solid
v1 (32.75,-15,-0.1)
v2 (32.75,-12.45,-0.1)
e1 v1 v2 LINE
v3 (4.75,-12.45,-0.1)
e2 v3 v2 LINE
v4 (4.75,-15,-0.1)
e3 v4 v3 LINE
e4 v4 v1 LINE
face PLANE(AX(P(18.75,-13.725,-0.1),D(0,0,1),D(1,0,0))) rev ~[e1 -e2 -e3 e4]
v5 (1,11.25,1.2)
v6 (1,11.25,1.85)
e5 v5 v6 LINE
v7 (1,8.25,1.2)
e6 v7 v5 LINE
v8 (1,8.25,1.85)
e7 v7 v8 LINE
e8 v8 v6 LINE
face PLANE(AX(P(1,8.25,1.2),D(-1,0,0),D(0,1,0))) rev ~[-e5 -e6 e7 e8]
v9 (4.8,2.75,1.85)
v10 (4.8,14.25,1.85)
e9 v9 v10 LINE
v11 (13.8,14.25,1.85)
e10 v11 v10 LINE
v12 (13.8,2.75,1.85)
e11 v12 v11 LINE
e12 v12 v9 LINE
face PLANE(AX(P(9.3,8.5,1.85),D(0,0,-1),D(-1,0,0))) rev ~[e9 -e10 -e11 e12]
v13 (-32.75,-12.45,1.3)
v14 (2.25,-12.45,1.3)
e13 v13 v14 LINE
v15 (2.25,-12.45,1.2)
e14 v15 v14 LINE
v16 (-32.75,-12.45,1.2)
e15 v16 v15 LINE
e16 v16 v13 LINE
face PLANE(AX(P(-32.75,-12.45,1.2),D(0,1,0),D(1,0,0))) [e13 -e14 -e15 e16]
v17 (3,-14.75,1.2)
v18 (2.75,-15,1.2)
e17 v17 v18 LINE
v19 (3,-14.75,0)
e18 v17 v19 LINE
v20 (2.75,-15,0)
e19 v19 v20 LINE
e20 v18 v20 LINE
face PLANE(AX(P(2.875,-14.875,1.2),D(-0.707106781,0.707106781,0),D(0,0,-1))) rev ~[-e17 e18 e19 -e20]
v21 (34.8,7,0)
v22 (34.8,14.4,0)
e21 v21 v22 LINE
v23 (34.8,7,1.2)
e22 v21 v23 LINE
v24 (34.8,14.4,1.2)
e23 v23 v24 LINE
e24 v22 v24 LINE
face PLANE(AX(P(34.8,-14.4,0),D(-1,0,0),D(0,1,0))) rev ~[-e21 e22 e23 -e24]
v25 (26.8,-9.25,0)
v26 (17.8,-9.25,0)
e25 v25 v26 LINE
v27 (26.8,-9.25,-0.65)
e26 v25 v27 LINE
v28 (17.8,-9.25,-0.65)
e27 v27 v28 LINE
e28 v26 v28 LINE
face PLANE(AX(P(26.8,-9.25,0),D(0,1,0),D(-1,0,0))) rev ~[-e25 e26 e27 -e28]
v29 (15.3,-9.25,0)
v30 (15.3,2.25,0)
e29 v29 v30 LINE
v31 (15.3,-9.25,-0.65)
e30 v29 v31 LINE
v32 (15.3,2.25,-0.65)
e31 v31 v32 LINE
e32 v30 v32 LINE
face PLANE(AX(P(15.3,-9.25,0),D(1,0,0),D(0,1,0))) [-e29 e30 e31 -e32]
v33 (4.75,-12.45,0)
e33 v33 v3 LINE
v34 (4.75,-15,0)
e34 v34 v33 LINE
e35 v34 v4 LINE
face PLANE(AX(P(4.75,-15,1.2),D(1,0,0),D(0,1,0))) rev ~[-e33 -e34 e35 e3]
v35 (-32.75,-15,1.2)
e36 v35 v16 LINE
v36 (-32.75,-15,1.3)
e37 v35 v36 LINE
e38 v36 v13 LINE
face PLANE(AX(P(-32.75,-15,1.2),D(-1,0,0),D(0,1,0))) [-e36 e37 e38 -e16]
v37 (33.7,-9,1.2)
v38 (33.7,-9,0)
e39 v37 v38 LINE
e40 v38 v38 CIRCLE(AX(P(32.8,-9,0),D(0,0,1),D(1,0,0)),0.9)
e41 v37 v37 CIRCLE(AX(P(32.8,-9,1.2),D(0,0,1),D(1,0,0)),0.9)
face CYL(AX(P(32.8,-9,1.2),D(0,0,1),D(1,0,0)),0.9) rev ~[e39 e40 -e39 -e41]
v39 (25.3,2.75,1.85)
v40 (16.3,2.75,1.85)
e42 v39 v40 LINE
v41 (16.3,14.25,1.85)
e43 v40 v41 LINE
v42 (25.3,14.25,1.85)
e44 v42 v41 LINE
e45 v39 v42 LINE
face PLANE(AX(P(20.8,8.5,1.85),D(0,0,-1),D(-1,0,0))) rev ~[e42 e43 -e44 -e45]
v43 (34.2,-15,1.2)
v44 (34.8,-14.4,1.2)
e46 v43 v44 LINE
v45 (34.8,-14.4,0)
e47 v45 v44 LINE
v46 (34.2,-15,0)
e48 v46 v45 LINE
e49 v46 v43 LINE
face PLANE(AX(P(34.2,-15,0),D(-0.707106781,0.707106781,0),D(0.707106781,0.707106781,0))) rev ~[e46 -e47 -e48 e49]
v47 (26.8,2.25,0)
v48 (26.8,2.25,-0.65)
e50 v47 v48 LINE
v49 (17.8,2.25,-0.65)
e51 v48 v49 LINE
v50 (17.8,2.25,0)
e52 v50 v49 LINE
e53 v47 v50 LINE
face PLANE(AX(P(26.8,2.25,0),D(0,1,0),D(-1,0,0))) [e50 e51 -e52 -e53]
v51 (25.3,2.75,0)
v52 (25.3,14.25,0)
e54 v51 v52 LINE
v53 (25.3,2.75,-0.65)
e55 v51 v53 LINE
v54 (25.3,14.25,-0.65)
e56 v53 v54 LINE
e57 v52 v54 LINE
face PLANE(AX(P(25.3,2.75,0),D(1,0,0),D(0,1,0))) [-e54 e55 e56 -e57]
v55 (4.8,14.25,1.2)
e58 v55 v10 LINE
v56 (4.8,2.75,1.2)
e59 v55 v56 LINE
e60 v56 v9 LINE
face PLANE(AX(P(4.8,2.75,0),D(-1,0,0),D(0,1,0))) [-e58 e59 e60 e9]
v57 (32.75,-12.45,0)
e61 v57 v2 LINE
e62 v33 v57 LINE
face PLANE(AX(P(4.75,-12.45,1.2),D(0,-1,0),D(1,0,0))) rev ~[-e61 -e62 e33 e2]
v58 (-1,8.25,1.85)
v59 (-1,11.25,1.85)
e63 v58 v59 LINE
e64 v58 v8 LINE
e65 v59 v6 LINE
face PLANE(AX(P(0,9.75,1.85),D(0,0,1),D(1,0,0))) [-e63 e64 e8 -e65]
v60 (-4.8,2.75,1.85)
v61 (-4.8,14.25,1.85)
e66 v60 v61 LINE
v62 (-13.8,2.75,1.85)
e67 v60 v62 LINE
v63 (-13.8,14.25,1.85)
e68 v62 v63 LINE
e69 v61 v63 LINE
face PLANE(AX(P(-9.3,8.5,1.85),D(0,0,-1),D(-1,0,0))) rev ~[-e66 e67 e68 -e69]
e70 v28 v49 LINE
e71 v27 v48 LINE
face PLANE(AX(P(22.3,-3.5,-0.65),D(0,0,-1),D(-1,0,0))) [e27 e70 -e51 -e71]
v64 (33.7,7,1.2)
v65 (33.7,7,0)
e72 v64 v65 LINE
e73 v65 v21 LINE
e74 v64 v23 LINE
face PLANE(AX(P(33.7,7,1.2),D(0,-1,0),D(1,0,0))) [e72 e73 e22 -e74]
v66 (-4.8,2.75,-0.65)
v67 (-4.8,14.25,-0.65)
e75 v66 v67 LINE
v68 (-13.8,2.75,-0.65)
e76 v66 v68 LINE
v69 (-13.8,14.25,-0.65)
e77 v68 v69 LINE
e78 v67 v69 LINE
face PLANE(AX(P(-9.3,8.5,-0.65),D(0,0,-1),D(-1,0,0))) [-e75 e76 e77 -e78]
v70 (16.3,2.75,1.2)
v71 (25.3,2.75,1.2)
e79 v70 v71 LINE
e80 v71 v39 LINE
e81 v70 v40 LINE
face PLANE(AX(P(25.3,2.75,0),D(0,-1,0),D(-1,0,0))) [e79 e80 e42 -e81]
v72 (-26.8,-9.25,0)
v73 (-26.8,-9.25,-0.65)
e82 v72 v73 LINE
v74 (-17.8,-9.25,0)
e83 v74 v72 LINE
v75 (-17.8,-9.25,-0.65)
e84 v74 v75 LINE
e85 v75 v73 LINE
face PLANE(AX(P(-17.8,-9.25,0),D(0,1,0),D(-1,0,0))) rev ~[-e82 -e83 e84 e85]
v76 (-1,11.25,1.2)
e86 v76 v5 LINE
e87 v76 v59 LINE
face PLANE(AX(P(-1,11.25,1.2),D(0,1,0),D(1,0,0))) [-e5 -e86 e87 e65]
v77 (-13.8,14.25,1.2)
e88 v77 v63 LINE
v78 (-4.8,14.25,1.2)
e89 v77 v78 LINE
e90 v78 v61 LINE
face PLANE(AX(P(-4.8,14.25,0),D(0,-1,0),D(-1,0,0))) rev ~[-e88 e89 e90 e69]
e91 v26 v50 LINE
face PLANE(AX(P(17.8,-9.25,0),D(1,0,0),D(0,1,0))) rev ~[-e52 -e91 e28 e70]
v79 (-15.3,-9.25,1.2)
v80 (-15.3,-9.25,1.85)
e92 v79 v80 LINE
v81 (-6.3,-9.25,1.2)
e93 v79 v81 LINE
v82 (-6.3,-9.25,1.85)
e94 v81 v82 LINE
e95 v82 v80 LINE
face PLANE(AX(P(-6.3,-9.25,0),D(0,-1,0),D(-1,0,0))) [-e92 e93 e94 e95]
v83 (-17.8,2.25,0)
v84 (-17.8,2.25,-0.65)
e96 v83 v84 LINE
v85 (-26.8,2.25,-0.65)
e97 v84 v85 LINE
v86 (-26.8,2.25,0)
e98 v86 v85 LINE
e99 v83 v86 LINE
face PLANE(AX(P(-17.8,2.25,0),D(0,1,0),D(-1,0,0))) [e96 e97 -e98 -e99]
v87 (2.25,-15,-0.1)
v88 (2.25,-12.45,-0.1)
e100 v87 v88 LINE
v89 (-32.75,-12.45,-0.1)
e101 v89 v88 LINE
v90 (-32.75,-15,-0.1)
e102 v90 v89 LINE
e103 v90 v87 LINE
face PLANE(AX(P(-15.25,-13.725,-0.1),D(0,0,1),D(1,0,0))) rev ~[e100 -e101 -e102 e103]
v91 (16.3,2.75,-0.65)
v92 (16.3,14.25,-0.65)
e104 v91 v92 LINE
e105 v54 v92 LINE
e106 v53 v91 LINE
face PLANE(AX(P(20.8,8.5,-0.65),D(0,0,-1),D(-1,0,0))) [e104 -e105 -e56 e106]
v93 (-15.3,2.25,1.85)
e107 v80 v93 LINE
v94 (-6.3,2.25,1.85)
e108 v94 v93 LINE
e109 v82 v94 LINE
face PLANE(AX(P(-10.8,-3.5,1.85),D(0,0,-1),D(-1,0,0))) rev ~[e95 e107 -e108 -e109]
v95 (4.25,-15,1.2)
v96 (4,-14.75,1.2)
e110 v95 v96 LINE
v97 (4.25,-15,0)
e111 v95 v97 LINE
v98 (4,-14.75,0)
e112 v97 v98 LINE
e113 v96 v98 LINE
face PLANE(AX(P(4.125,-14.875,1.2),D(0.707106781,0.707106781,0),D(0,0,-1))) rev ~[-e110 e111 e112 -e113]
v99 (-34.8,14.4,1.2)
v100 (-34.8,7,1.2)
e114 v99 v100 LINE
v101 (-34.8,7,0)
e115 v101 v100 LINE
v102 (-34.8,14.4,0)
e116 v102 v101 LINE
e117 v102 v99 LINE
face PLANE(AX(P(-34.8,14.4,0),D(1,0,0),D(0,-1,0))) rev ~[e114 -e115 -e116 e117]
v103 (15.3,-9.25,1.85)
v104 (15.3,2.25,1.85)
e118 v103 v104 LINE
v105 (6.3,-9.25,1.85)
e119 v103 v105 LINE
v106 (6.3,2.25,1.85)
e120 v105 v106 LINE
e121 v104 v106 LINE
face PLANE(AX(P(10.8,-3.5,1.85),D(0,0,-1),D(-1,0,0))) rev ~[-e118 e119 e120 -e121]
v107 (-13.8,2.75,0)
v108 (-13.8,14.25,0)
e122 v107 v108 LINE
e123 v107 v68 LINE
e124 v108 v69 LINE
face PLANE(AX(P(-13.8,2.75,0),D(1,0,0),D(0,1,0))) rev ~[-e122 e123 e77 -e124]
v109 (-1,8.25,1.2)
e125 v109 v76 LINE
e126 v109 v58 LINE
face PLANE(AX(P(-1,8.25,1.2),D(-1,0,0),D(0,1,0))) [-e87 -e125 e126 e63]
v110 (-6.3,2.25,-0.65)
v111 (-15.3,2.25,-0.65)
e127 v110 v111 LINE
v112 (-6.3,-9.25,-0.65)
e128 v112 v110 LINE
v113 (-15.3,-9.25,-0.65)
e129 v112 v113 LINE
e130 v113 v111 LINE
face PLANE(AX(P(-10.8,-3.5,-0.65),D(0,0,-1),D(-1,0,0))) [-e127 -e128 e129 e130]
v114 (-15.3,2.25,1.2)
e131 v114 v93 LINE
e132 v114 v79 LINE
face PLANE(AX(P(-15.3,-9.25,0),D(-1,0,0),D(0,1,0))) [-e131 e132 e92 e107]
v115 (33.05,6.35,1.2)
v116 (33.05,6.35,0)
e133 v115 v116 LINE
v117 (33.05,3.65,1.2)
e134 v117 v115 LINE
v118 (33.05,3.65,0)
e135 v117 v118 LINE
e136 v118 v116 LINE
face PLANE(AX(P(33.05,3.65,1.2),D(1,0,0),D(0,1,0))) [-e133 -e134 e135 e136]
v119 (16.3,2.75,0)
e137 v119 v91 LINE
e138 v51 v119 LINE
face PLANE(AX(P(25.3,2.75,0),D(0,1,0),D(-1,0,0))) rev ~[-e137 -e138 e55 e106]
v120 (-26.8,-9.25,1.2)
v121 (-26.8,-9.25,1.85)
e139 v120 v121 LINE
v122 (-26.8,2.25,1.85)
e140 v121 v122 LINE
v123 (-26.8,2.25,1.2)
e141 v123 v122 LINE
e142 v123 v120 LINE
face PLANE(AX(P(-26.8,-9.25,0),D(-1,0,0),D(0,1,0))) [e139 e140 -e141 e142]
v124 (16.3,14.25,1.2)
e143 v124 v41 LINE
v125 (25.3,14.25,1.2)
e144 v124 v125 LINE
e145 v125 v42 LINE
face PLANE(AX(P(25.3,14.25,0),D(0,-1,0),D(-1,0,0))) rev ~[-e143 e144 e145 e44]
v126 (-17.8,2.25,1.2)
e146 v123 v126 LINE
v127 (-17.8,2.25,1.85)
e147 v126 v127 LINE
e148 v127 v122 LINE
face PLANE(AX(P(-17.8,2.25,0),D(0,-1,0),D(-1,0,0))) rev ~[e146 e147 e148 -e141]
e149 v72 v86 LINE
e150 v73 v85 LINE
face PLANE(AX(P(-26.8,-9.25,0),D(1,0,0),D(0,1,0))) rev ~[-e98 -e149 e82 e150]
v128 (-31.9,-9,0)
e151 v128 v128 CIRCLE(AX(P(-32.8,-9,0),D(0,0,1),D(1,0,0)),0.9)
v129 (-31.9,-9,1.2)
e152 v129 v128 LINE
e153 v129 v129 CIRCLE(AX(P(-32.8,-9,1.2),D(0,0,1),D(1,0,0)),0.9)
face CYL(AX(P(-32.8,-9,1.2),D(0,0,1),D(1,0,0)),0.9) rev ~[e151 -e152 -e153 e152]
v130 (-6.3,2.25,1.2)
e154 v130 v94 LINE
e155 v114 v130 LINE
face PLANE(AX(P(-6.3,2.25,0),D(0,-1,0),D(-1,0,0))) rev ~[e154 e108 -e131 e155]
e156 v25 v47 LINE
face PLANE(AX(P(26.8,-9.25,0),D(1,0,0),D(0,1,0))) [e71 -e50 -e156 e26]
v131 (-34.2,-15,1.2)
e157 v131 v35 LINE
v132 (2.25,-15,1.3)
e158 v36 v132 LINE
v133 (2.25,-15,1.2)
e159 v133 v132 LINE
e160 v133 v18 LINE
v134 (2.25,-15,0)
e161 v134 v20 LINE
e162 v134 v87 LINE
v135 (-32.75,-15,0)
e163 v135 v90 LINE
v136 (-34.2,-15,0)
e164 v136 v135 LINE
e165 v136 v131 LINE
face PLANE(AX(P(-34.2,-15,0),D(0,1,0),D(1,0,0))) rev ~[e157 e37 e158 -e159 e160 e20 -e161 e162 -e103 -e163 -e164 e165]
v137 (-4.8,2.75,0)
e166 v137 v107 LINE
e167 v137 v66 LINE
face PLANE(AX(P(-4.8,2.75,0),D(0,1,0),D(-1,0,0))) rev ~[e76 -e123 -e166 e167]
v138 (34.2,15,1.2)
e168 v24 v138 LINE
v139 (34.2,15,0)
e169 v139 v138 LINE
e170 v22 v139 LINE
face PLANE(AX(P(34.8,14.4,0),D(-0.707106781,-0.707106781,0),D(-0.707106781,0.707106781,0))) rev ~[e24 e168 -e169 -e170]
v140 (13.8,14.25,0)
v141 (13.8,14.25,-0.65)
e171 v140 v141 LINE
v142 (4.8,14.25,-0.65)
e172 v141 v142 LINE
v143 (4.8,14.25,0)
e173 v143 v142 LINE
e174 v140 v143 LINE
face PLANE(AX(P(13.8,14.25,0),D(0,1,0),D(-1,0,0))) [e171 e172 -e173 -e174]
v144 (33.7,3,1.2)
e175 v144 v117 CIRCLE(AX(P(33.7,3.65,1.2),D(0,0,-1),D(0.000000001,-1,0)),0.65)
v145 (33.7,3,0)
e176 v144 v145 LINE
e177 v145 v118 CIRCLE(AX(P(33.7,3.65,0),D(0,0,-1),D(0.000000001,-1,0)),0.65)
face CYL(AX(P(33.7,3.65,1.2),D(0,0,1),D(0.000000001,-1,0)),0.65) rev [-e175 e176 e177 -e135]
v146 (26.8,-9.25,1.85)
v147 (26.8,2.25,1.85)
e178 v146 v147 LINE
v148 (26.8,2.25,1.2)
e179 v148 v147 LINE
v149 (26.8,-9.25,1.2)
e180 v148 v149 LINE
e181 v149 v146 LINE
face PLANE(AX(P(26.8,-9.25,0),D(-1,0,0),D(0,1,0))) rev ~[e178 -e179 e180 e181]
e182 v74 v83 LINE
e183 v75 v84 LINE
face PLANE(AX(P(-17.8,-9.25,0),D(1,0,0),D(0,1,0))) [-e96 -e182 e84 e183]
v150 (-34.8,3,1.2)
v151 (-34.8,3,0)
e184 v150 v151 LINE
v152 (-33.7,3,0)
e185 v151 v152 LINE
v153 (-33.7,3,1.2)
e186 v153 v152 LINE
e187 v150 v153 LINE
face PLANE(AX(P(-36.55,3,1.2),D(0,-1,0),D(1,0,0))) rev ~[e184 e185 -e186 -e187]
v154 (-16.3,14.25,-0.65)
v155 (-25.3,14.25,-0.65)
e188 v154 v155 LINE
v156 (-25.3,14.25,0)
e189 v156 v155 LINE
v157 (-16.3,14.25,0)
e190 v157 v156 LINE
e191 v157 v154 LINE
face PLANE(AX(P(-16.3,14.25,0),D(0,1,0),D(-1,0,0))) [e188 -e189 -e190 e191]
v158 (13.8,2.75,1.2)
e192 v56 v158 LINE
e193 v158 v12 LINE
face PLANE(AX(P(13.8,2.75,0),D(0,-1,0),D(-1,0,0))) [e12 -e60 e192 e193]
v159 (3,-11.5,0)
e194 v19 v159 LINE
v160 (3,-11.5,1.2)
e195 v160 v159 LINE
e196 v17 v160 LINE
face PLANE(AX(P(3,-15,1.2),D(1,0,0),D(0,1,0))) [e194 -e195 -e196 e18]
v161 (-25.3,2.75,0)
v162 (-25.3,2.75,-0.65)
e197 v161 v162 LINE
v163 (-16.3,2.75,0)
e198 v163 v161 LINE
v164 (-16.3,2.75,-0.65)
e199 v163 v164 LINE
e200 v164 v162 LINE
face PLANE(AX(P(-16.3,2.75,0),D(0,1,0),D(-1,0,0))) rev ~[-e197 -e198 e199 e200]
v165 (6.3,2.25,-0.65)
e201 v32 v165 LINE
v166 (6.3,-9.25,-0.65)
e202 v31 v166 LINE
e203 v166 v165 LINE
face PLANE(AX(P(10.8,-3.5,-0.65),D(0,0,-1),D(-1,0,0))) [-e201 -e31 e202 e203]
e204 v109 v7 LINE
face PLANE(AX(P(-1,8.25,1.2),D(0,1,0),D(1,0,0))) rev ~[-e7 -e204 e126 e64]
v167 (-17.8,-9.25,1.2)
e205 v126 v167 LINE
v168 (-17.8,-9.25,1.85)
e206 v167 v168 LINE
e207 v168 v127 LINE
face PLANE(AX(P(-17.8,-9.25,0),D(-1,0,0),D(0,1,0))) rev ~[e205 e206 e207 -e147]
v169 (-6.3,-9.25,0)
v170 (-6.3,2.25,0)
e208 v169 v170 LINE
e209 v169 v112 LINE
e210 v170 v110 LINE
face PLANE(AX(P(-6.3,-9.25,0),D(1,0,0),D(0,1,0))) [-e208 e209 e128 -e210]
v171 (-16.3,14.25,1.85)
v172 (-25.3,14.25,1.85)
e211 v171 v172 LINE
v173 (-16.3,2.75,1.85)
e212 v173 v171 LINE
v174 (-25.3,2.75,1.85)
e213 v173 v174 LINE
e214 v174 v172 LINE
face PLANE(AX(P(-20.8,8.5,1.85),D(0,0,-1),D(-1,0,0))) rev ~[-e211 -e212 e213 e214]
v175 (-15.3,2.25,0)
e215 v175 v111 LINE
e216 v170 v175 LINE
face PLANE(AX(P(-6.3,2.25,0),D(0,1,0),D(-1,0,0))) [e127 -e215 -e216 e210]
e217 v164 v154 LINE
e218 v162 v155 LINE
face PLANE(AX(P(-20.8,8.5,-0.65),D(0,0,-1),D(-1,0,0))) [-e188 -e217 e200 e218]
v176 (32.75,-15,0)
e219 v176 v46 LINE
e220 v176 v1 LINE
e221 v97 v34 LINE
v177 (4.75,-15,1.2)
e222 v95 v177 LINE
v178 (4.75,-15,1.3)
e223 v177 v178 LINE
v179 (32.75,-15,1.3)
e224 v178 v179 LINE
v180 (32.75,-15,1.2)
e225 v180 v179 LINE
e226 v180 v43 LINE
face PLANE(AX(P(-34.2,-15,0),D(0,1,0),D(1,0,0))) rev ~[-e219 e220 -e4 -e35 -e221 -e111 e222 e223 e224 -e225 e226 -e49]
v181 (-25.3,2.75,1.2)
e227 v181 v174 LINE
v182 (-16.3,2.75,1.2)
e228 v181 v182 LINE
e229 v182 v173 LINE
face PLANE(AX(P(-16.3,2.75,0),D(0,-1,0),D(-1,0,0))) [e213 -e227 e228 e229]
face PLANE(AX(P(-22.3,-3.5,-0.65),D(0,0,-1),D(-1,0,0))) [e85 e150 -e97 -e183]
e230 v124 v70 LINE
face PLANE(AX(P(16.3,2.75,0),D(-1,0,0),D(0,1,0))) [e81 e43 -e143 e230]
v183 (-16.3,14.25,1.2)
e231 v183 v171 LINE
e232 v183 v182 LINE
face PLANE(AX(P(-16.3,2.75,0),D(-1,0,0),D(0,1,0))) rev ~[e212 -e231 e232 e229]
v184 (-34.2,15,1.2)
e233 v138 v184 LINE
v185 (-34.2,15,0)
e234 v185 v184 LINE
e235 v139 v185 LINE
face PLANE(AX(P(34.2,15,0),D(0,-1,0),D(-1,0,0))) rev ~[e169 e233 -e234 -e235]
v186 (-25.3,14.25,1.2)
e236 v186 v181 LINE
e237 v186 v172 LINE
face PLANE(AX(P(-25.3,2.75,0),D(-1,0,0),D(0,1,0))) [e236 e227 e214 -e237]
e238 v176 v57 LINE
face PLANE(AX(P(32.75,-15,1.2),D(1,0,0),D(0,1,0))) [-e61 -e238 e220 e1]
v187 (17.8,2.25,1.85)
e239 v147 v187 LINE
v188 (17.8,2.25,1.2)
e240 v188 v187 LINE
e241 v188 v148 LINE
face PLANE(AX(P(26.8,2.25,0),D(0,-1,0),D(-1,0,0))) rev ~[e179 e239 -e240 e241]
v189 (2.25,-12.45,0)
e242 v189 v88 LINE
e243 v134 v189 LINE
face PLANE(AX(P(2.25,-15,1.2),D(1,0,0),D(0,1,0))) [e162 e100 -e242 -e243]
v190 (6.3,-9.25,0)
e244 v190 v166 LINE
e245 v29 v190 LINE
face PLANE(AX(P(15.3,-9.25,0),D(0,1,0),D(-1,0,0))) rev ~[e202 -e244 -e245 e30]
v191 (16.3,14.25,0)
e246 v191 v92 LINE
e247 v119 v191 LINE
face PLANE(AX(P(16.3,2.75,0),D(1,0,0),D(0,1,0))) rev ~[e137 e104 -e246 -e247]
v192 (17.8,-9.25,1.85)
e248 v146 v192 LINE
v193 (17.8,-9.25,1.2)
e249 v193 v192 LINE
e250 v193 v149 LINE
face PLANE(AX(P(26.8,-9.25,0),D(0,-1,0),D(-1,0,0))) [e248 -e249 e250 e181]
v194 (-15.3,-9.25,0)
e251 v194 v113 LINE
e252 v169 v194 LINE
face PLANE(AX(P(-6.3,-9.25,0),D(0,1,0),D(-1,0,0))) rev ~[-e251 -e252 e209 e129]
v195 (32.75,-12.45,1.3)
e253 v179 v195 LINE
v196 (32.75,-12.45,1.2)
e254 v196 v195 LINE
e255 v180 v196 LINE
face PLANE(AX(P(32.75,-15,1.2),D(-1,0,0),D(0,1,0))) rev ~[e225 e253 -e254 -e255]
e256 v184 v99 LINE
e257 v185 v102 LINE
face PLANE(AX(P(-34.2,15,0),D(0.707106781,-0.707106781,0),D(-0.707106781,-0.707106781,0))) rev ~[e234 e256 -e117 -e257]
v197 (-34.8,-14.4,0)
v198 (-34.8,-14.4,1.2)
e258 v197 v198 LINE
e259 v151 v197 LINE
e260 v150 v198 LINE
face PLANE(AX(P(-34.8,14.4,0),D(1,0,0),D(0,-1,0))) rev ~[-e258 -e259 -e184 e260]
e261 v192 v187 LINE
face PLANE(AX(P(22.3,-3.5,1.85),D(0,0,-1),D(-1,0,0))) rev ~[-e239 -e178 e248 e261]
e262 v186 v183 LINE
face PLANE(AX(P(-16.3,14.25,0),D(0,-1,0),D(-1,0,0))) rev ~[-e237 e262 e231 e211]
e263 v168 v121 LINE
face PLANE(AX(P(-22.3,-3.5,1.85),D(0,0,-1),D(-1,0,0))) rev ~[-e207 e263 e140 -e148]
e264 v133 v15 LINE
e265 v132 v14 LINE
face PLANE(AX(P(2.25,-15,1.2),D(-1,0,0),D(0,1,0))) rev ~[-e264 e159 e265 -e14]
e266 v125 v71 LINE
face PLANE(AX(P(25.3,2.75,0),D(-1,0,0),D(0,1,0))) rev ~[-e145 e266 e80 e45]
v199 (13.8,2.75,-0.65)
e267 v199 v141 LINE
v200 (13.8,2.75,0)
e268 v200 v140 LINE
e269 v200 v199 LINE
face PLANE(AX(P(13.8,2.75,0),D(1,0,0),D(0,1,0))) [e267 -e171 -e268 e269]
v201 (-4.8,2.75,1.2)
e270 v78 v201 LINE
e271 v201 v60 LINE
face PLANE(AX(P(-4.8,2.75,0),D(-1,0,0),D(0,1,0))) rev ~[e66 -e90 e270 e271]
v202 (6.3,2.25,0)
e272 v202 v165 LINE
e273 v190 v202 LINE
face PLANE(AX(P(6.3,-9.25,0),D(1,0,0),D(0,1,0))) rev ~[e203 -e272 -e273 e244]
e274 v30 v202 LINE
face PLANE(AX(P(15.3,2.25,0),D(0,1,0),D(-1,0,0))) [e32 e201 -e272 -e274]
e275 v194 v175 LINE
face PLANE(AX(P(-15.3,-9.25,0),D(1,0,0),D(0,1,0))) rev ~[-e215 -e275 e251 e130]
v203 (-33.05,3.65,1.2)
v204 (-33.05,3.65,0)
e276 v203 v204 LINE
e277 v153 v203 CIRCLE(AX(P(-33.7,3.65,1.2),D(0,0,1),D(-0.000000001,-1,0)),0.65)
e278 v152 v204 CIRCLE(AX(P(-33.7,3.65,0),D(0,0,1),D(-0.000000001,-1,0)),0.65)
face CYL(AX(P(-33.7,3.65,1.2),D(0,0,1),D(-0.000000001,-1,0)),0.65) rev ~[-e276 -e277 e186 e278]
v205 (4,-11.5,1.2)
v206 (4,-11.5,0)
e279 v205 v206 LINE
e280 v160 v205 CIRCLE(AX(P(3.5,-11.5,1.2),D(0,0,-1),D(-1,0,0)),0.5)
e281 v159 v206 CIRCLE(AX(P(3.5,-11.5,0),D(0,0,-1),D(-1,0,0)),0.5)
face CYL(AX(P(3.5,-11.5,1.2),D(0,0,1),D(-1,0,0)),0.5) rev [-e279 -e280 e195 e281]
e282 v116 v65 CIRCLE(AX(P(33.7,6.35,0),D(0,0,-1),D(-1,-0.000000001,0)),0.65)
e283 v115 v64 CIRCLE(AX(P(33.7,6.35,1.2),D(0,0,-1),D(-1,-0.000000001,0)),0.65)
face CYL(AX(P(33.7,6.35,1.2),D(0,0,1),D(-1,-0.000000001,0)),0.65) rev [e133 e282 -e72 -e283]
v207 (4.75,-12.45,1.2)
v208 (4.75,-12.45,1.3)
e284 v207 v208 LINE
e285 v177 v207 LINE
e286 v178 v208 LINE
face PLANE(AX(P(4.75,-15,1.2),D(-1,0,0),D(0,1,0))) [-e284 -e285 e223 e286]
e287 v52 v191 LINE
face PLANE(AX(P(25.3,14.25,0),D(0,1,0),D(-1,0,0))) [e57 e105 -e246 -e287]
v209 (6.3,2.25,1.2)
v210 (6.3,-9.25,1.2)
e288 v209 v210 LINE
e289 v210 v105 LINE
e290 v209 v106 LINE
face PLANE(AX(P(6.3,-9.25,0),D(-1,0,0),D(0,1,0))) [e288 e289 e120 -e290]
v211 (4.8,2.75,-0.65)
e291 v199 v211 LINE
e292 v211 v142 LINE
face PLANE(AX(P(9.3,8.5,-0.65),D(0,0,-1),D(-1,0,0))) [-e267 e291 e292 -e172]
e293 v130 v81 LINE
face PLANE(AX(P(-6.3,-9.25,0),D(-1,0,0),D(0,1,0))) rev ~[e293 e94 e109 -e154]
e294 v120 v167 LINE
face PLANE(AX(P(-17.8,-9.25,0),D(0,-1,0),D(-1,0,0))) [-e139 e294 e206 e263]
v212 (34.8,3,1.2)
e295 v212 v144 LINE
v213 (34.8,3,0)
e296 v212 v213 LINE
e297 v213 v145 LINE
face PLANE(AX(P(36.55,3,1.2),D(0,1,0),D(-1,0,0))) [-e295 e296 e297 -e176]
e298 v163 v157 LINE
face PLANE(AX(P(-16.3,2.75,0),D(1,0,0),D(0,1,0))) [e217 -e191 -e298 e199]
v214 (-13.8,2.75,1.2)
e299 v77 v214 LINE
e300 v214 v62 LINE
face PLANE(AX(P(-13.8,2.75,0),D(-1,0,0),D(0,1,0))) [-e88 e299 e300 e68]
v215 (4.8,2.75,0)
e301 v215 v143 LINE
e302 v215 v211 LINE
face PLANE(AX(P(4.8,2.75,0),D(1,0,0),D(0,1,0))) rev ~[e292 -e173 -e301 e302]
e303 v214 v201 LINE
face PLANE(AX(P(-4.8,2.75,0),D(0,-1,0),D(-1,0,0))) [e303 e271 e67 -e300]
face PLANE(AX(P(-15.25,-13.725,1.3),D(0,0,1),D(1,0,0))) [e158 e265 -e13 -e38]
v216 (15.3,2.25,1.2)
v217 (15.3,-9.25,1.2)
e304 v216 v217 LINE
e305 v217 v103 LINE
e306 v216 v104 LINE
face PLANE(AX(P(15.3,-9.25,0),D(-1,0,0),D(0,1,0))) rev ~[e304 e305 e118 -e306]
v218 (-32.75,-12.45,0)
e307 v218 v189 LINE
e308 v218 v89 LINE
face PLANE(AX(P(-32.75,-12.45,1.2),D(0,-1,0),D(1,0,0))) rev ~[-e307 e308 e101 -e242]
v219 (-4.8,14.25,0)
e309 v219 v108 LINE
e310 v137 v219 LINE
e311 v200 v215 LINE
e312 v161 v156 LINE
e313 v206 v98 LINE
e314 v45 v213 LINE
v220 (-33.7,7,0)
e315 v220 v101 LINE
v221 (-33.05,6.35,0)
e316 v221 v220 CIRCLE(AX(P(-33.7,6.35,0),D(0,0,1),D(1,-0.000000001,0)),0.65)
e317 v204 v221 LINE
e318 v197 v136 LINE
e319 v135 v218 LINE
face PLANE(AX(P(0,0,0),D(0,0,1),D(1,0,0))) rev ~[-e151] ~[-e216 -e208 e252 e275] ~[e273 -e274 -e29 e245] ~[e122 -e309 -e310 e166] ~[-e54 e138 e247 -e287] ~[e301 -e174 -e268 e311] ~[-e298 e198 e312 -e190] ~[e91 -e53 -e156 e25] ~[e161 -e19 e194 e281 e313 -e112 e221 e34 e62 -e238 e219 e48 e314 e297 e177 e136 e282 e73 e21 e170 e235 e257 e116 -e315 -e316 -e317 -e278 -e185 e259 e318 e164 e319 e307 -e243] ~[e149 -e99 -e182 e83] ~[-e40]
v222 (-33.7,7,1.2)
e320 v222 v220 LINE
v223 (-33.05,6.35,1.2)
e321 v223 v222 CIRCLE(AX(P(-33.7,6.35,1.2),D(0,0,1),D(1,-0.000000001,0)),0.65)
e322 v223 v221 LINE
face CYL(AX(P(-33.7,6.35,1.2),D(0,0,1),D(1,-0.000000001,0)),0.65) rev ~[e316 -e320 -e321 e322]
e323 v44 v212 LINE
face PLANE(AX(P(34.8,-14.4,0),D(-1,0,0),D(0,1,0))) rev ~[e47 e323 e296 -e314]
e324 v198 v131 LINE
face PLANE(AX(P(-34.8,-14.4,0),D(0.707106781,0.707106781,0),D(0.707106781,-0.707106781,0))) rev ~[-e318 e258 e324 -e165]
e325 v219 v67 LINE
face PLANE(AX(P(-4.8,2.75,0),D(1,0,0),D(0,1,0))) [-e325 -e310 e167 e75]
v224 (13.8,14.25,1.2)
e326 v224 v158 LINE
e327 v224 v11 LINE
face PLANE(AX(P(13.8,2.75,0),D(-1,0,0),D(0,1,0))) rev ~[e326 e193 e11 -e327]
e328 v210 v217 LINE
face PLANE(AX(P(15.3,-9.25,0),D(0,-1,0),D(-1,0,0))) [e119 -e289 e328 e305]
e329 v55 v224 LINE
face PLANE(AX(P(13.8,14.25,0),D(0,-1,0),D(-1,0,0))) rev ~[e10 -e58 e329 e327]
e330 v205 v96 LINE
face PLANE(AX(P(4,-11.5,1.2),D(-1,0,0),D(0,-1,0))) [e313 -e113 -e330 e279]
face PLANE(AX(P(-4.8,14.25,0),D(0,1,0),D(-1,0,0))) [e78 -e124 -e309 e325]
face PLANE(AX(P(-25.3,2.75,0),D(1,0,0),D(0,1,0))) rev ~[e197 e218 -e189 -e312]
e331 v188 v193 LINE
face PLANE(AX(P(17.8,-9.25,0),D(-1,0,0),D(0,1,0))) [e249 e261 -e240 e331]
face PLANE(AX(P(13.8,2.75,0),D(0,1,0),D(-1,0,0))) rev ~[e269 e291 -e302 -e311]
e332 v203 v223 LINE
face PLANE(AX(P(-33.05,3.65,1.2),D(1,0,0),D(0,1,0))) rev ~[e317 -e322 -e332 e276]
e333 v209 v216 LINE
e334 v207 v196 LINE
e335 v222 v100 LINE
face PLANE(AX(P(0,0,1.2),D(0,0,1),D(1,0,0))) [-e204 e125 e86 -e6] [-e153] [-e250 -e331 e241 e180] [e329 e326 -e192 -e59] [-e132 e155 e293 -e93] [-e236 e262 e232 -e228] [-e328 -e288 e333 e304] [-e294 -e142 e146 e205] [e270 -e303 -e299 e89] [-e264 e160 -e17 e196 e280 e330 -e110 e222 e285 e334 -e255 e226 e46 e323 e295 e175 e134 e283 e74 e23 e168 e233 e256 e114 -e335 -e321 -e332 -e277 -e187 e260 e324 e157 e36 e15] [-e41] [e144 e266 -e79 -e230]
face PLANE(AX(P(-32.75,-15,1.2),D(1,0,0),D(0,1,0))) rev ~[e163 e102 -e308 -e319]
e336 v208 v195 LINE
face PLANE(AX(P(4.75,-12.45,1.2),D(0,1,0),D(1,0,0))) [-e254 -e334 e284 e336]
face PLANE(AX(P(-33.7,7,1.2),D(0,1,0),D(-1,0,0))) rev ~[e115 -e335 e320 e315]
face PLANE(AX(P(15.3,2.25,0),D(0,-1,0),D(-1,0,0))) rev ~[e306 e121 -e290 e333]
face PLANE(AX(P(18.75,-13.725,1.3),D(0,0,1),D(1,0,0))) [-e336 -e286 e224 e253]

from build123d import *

# Parameters (mm, degrees)
MAIN_BOARD_DEPTH    = 1.2
SKETCH2_R           = 0.9
DETAIL_CUTS_DEPTH   = 1.2
CHAMFER1_SIZE       = 0.25
SKETCH3_W           = 9
SKETCH3_H           = 11.5
SOC1_DEPTH          = 0.65
SOC1_DEPTH_BACK     = 1.85
SKETCH4_W           = 2
SKETCH4_H           = 3
SOC2_DEPTH          = 0.65
SKETCH5_W           = 35
SKETCH5_H           = 2.55
SKETCH5_W_2         = 28
CONTACTS_DEPTH      = 0.1
CONTACTS_DEPTH_BACK = 1.3


with BuildPart() as part:
    # Sketch1 → Main Board (new body)
    with BuildSketch(Plane.XY):
        Polygon((-34.2, 15), (-34.8, 14.4), (-34.8, -14.4), (-34.2, -15), (34.2, -15), (34.8, -14.4), (34.8, 14.4), (34.2, 15), align=None)
    extrude(amount=MAIN_BOARD_DEPTH)

    # Sketch2 → Detail Cuts (cut)
    with BuildSketch(Plane.XY.offset(1.2)):
        with Locations((-32.8, -9)):
            Circle(SKETCH2_R)
        with Locations((32.8, -9)):
            Circle(SKETCH2_R)
        with BuildLine():
            Line((-36.55, 3), (-33.7, 3))
            ThreePointArc((-33.7, 3), (-33.240380592, 3.190380592), (-33.05, 3.65))
            Line((-33.05, 3.65), (-33.05, 6.35))
            ThreePointArc((-33.05, 6.35), (-33.240380592, 6.809619408), (-33.7, 7))
            Line((-33.7, 7), (-36.55, 7))
            Line((-36.55, 7), (-36.55, 3))
        make_face()
        with BuildLine():
            Line((33.05, 3.65), (33.05, 6.35))
            ThreePointArc((33.05, 6.35), (33.240380592, 6.809619408), (33.7, 7))
            Line((33.7, 7), (36.55, 7))
            Line((36.55, 7), (36.55, 3))
            Line((36.55, 3), (33.7, 3))
            ThreePointArc((33.7, 3), (33.240380592, 3.190380592), (33.05, 3.65))
        make_face()
        with BuildLine():
            Line((3, -15), (3, -11.5))
            ThreePointArc((3, -11.5), (3.5, -11), (4, -11.5))
            Line((4, -11.5), (4, -15))
            ThreePointArc((4, -15), (3.5, -15.5), (3, -15))
        make_face()
    extrude(amount=-DETAIL_CUTS_DEPTH, mode=Mode.SUBTRACT)

    # Chamfer1
    chamfer1_edges = [part.edges().sort_by_distance(p)[0] for p in [
        (4, -15, 0.6),
        (3, -15, 0.6),
    ]]
    chamfer(chamfer1_edges, length=CHAMFER1_SIZE)

    # Sketch3 → SOC1 (add, two sides)
    with BuildSketch(Plane(origin=(0, 0, 0), x_dir=(-1, 0, 0), z_dir=(0, 0, -1))) as soc1_sk:
        with Locations((-20.8, 8.5)):
            Rectangle(SKETCH3_W, SKETCH3_H)
        with Locations((-9.3, 8.5)):
            Rectangle(SKETCH3_W, SKETCH3_H)
        with Locations((10.8, -3.5)):
            Rectangle(SKETCH3_W, SKETCH3_H)
        with Locations((-22.3, -3.5)):
            Rectangle(SKETCH3_W, SKETCH3_H)
        with Locations((-10.8, -3.5)):
            Rectangle(SKETCH3_W, SKETCH3_H)
        with Locations((22.3, -3.5)):
            Rectangle(SKETCH3_W, SKETCH3_H)
        with Locations((9.3, 8.5)):
            Rectangle(SKETCH3_W, SKETCH3_H)
        with Locations((20.8, 8.5)):
            Rectangle(SKETCH3_W, SKETCH3_H)
    extrude(amount=SOC1_DEPTH)
    extrude(soc1_sk.sketch, amount=-SOC1_DEPTH_BACK)

    # Sketch4 → SOC2 (add)
    with BuildSketch(Plane.XY.offset(1.2)):
        with Locations((0, 9.75)):
            Rectangle(SKETCH4_W, SKETCH4_H)
    extrude(amount=SOC2_DEPTH)

    # Sketch5 → Contacts (add, two sides)
    with BuildSketch(Plane.XY.offset(1.2)) as contacts_sk:
        with Locations((-15.25, -13.725)):
            Rectangle(SKETCH5_W, SKETCH5_H)
        with Locations((18.75, -13.725)):
            Rectangle(SKETCH5_W_2, SKETCH5_H)
    extrude(amount=CONTACTS_DEPTH)
    extrude(contacts_sk.sketch, amount=-CONTACTS_DEPTH_BACK)


solid = part.part
